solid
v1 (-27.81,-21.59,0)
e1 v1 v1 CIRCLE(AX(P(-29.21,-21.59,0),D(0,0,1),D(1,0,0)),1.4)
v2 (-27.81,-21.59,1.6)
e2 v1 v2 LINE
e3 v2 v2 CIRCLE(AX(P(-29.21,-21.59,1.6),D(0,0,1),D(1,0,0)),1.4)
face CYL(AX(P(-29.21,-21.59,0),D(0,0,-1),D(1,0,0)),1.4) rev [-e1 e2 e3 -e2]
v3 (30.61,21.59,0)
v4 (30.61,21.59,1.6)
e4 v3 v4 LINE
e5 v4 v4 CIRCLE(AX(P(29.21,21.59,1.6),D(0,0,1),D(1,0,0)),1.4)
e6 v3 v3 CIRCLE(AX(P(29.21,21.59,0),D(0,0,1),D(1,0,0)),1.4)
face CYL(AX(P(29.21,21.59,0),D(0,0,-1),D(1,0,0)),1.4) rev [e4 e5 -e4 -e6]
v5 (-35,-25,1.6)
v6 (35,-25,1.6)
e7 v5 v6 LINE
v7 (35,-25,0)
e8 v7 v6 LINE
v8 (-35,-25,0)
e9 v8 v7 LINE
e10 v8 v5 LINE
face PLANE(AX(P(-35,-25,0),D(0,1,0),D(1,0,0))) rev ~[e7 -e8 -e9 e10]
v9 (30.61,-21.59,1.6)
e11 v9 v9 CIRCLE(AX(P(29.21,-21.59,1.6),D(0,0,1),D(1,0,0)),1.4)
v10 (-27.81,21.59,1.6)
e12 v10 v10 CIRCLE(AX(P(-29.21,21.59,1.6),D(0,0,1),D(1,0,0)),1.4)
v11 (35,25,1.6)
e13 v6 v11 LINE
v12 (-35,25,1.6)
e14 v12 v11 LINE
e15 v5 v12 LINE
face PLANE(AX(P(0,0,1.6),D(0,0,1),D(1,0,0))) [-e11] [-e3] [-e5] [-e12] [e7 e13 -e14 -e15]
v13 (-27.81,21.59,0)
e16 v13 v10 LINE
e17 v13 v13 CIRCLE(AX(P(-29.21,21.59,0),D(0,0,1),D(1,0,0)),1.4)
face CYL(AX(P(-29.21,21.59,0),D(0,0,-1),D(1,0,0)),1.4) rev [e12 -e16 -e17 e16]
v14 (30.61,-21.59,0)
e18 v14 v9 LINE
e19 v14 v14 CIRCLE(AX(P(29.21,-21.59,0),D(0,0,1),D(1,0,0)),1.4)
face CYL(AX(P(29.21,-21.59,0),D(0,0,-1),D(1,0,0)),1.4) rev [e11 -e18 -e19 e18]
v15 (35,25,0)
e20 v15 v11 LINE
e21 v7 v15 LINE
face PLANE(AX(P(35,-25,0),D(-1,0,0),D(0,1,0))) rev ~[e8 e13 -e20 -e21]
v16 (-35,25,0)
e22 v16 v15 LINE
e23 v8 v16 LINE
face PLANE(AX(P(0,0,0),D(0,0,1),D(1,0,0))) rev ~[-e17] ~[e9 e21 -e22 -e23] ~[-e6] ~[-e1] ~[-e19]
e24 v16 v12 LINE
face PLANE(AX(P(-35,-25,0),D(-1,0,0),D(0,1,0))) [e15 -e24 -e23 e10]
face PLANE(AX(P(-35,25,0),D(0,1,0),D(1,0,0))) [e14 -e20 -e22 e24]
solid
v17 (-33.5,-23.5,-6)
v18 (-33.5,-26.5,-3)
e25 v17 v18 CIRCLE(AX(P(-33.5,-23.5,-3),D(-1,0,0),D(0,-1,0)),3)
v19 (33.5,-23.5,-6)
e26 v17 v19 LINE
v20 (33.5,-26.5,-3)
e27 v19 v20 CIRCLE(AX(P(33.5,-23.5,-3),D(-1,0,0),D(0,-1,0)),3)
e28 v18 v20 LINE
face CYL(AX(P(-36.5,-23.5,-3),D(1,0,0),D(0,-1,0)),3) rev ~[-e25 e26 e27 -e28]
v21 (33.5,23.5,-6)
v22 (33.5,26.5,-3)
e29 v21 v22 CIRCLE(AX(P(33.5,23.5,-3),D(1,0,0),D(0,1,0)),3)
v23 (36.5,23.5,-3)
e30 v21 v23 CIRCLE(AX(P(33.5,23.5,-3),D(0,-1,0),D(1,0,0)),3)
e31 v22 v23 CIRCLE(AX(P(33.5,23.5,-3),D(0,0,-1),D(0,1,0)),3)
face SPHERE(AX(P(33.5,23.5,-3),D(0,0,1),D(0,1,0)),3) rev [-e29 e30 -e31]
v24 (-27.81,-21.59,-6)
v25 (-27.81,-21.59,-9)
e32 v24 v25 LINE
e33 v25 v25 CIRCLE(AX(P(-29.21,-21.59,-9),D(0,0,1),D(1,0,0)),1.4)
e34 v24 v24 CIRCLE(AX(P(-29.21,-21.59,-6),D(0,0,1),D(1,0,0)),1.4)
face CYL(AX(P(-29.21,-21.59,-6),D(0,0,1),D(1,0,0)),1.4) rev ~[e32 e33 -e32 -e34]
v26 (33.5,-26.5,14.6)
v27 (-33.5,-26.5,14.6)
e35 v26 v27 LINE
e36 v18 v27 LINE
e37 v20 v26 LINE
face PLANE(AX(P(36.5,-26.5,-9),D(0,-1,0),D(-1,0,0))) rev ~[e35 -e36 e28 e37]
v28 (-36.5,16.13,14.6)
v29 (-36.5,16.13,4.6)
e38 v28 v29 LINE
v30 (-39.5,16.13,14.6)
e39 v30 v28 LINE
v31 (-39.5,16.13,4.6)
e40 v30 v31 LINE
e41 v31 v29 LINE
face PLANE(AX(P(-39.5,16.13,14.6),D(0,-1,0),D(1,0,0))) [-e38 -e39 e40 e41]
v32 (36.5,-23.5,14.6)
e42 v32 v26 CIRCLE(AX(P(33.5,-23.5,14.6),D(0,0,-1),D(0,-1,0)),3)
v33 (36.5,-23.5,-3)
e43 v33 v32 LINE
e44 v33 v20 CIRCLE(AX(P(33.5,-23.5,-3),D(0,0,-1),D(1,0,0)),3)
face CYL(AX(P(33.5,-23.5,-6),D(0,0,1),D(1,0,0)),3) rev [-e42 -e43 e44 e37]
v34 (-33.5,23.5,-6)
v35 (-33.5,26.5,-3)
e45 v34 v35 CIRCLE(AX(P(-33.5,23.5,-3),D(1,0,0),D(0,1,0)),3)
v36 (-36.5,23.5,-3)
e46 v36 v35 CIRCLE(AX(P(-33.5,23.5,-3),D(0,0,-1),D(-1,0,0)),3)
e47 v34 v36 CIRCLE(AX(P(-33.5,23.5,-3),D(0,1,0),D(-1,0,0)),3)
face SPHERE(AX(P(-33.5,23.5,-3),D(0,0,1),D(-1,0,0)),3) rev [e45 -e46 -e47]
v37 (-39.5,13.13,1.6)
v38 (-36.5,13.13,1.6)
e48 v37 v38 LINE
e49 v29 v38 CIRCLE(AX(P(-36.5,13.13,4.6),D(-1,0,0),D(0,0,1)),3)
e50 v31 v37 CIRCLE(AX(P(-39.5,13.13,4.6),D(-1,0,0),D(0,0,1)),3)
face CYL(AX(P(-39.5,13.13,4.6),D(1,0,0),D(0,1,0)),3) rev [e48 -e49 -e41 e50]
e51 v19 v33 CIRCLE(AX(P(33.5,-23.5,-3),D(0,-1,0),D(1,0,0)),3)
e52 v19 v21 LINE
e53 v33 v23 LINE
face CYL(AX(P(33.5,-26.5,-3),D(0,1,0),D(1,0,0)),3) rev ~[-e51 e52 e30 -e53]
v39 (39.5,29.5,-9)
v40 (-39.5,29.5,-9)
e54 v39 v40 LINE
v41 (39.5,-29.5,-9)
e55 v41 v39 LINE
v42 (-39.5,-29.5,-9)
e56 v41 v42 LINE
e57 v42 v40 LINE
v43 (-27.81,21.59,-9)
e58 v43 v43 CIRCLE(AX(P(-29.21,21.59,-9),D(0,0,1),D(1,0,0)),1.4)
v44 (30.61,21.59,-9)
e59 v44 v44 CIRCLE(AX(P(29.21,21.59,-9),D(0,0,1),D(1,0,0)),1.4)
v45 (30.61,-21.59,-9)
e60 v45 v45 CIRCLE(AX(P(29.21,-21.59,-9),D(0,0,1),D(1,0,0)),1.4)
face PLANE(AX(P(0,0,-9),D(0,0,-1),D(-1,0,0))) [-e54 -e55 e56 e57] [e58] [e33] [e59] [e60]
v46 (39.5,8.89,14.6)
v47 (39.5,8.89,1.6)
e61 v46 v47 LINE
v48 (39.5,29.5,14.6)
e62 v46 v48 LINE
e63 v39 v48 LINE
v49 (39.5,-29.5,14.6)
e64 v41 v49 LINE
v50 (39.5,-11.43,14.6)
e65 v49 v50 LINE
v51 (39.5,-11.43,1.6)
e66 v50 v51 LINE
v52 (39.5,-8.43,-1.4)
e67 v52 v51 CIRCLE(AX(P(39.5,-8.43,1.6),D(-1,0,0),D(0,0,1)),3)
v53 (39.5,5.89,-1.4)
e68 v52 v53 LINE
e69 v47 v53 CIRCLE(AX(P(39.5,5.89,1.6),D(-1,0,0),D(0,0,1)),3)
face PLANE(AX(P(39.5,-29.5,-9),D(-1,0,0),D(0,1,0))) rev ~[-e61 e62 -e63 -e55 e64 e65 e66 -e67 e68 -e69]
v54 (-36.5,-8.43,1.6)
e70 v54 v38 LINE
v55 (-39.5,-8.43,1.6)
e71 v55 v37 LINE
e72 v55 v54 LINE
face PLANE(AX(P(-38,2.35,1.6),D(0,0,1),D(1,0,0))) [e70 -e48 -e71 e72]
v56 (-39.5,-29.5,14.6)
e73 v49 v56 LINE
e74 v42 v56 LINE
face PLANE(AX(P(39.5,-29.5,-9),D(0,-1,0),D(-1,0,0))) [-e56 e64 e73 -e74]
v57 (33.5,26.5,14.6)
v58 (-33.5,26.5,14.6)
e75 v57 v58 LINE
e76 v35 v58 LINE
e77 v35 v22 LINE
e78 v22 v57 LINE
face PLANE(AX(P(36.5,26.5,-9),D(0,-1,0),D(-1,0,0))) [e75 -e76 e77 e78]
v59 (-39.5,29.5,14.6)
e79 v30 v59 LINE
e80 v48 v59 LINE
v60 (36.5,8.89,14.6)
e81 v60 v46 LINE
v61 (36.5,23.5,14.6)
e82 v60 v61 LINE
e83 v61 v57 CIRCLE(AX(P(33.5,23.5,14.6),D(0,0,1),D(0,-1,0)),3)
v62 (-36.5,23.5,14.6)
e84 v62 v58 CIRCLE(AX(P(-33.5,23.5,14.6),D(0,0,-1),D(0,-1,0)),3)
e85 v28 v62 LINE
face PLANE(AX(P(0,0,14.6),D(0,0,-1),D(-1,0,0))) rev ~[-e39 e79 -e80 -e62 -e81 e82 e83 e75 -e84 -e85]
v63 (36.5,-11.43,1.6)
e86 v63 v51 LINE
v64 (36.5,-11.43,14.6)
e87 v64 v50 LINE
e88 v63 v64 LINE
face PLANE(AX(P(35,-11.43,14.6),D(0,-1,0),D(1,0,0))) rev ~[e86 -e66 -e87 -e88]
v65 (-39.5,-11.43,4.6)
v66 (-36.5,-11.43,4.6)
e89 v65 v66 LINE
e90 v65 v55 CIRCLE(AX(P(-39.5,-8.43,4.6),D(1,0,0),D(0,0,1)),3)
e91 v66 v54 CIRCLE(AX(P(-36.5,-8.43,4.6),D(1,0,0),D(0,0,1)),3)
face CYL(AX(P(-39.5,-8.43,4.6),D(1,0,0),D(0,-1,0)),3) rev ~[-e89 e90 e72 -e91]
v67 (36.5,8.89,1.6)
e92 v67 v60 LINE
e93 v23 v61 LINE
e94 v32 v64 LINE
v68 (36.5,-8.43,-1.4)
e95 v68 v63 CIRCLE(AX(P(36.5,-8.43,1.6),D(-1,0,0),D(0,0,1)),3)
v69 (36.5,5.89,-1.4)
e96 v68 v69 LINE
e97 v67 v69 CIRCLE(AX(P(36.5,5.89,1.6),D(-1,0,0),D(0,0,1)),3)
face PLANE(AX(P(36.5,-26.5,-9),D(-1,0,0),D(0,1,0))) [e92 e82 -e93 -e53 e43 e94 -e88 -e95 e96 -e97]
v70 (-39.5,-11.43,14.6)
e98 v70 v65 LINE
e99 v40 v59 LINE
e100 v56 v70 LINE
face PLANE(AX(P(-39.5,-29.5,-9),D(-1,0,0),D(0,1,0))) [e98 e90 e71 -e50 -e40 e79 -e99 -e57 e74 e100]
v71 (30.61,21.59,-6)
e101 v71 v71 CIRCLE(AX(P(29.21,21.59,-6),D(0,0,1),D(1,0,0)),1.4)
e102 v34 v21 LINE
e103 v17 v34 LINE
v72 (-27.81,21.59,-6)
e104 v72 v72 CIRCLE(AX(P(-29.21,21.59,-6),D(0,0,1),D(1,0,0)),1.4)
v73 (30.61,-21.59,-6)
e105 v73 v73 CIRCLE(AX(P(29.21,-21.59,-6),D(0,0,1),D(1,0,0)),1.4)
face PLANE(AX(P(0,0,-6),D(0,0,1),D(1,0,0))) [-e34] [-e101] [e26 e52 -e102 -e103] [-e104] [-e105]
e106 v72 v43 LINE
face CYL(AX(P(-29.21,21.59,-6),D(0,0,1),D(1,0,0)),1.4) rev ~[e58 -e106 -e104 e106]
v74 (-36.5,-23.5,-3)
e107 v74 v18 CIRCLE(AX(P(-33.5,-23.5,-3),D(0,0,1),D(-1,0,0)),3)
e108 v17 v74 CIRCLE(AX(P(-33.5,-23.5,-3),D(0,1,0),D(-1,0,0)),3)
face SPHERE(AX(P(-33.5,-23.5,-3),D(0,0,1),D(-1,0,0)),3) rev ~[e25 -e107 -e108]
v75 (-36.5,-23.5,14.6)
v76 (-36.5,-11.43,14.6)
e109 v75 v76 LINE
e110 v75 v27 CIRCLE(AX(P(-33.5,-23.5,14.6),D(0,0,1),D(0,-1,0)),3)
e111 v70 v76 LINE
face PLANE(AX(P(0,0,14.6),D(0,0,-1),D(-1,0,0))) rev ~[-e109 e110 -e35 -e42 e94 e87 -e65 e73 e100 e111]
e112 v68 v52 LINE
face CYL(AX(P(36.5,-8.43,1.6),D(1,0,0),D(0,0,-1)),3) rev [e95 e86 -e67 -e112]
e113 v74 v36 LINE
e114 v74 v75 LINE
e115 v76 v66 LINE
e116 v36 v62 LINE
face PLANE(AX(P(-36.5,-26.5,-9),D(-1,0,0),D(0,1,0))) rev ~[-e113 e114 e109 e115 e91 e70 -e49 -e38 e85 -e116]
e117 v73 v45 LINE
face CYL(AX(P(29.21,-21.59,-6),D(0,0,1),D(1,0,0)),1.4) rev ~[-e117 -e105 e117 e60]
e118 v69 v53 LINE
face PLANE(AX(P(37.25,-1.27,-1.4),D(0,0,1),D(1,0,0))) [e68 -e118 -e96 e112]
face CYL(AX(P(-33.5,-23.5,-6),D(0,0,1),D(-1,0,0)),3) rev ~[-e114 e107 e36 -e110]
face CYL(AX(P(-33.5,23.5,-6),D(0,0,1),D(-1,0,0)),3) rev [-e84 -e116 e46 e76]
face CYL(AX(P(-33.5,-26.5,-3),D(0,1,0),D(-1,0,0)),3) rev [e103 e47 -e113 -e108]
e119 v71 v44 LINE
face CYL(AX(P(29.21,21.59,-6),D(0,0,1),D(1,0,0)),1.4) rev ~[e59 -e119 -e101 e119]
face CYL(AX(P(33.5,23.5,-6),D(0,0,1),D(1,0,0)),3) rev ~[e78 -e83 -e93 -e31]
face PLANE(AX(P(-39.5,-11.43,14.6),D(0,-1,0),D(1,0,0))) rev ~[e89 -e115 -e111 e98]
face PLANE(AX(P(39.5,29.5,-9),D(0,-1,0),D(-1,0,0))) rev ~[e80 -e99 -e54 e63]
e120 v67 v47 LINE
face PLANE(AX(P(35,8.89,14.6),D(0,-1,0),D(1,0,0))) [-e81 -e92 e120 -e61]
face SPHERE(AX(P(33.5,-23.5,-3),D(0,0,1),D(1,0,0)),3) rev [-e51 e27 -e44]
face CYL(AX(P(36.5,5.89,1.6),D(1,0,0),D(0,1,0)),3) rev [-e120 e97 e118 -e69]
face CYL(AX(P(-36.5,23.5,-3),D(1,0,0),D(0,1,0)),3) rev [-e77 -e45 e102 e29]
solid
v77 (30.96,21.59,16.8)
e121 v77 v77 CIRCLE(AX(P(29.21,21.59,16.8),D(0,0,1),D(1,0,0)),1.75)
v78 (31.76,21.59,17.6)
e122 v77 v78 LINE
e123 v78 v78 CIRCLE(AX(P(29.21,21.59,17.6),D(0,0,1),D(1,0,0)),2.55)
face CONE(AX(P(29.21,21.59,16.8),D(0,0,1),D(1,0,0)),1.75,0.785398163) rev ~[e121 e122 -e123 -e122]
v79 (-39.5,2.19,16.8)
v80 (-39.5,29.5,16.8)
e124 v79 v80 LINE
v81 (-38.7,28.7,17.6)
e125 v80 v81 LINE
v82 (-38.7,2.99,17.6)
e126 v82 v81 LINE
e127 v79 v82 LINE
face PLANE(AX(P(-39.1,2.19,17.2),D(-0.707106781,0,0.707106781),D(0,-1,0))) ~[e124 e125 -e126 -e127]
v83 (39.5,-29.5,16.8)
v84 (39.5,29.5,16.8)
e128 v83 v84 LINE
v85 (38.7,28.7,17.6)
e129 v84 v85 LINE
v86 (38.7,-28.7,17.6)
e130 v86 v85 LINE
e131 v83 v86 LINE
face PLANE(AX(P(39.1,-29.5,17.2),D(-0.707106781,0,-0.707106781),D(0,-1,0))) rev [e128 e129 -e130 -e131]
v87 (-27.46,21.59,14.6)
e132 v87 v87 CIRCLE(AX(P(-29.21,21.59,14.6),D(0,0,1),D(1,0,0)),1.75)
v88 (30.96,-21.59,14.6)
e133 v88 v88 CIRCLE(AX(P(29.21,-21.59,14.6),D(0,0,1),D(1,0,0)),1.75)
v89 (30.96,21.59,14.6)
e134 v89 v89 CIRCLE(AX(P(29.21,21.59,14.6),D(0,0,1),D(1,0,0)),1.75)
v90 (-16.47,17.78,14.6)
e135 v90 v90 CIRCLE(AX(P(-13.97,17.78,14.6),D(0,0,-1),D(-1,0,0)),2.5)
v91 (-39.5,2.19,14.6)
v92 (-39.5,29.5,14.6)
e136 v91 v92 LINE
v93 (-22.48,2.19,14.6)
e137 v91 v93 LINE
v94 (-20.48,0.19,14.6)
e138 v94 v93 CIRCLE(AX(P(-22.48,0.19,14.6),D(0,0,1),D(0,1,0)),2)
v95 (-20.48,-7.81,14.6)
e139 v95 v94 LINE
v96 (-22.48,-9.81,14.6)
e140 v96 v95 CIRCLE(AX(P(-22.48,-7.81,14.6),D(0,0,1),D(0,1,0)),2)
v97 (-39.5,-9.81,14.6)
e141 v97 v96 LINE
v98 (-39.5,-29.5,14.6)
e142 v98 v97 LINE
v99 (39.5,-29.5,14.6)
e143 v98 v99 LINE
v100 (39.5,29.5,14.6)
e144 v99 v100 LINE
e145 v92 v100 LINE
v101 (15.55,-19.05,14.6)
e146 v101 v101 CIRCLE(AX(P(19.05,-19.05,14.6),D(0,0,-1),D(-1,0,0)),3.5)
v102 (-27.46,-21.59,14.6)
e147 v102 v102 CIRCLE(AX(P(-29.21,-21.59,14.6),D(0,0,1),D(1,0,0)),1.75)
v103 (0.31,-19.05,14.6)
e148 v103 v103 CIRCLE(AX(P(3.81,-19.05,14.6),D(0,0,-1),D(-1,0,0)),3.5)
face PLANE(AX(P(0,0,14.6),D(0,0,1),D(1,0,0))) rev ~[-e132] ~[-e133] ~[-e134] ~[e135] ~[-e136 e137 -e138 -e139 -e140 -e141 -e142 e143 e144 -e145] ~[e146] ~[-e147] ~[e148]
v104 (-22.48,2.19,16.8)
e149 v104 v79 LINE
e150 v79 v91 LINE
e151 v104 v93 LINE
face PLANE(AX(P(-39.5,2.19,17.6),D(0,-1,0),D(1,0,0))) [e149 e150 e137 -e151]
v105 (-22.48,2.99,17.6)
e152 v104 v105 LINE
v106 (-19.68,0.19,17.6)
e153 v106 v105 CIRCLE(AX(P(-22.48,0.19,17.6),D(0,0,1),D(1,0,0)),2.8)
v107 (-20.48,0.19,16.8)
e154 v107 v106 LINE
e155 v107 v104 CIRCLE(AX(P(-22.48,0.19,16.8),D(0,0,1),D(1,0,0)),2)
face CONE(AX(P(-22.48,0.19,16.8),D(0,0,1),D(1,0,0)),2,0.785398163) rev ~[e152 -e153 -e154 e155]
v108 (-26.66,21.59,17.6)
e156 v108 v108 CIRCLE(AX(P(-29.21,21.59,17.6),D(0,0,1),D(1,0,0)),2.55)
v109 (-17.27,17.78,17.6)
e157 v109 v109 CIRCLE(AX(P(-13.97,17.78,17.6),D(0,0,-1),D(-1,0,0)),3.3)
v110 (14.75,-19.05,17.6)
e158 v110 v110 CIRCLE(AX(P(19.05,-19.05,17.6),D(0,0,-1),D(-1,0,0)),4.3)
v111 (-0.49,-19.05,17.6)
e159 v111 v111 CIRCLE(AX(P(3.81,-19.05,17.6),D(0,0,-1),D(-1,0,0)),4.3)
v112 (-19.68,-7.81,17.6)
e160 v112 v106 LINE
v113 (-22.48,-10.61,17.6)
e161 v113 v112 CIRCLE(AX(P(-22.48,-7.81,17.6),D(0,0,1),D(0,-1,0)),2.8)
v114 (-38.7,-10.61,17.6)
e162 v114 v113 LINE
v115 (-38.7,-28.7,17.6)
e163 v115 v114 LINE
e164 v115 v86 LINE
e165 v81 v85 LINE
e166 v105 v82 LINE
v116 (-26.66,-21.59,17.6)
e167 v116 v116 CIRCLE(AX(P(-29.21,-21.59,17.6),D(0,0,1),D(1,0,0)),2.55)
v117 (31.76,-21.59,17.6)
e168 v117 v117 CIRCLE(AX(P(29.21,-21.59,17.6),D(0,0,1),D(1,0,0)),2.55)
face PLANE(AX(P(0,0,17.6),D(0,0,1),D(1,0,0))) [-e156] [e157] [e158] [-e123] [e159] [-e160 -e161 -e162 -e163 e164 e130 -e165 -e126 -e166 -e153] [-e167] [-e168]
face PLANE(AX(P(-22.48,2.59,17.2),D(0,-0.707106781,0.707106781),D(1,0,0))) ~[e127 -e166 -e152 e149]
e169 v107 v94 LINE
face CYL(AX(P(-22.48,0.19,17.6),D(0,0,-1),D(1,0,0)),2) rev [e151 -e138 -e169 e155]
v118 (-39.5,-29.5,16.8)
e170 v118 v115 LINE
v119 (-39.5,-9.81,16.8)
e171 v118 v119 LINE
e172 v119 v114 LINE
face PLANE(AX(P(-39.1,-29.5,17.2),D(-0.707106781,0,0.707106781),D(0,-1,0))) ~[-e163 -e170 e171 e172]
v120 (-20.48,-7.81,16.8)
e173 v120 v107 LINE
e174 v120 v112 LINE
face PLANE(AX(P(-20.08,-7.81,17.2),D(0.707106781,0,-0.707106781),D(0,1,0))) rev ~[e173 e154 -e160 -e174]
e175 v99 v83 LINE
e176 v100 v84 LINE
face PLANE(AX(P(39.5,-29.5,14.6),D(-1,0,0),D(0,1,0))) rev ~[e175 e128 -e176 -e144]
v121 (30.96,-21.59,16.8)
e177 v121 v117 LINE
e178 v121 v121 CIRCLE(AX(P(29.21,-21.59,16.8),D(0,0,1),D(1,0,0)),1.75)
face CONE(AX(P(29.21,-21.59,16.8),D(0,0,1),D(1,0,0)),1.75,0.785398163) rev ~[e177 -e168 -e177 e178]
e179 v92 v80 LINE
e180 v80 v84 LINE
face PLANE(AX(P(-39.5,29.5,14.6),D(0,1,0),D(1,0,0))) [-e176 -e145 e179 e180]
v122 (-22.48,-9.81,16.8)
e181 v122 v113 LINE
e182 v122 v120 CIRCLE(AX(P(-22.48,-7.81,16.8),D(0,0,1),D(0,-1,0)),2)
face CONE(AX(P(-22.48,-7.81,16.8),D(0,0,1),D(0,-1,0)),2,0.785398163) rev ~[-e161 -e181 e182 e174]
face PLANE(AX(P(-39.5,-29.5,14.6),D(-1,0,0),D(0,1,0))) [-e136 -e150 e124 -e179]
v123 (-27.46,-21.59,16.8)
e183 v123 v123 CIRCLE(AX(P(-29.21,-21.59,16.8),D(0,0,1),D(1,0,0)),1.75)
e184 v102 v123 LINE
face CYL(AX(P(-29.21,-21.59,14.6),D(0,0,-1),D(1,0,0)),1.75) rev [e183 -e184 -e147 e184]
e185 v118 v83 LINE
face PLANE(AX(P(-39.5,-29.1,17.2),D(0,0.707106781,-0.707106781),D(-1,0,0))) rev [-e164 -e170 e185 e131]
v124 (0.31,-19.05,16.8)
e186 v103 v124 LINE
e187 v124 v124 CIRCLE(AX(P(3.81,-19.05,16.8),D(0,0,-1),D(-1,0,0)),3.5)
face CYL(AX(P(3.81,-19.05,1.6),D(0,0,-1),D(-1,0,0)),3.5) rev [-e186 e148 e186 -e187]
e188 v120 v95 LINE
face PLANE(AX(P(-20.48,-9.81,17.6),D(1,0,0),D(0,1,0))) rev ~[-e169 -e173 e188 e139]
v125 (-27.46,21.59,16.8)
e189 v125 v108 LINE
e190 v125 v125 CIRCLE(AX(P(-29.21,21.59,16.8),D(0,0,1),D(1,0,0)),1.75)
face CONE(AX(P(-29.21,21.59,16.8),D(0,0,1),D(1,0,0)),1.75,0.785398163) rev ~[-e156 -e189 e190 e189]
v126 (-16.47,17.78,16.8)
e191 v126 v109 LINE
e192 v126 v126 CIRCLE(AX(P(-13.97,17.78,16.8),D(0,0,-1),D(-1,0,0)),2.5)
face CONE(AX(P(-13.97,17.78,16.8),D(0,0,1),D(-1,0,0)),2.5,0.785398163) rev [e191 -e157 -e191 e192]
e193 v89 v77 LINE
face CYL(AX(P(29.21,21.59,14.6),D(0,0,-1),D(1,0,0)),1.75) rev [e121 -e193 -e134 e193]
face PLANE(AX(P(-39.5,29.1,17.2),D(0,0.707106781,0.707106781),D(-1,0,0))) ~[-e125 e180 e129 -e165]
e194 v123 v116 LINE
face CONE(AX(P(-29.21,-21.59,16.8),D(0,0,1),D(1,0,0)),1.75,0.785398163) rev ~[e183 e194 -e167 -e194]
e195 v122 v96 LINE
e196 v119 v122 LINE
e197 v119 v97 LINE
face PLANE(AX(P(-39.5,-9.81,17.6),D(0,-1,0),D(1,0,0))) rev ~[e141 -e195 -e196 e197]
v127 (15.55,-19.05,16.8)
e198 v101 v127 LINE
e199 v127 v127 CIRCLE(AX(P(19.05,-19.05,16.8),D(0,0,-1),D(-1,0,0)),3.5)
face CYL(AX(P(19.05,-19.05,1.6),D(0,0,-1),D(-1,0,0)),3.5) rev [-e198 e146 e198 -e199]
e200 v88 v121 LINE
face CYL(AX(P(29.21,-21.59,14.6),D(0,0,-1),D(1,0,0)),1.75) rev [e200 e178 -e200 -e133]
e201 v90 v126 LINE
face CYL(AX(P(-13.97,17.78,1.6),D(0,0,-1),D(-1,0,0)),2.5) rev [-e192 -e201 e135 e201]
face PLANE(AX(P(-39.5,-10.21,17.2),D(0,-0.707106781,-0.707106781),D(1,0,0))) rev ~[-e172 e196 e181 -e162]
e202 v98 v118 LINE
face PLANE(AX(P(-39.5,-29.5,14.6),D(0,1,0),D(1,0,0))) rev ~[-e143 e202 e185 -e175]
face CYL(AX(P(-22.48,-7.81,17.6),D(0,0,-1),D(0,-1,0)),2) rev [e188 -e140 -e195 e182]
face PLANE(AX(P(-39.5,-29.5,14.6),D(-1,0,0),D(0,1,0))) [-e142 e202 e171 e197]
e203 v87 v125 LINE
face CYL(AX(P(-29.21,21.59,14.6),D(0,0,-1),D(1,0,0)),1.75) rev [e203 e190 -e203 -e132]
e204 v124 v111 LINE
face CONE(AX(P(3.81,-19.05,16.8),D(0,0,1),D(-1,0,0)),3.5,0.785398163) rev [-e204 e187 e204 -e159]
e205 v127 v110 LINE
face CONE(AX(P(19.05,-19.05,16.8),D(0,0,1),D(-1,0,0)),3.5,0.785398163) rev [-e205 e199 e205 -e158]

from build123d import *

# Parameters (mm, degrees)
SKETCH1_W           = 70
SKETCH1_H           = 50
SKETCH1_R           = 1.4
BOSS_EXTRUDE1_DEPTH = 1.6
SKETCH2_W           = 73
SKETCH2_H           = 53
SKETCH2_R           = 1.4
BOSS_EXTRUDE2_DEPTH = 3
SKETCH3_W           = 79
SKETCH3_H           = 59
SKETCH3_W_2         = 73
SKETCH3_H_2         = 53
BOSS_EXTRUDE3_DEPTH = 23.6
SKETCH4_W           = 79
SKETCH4_H           = 59
SKETCH4_R           = 1.75
BOSS_EXTRUDE4_DEPTH = 3
SKETCH9_W           = 3
SKETCH9_H           = 27.56
CUT_EXTRUDE5_DEPTH  = 13
SKETCH7_R           = 3.5
SKETCH7_R_2         = 2.5
CUT_EXTRUDE3_DEPTH  = 52.83145763
SKETCH8_W           = 4.5
SKETCH8_H           = 20.32
CUT_EXTRUDE4_DEPTH  = 16
FILLET3_R           = 3
FILLET4_R           = 3
SKETCH10_W          = 19.02
SKETCH10_H          = 12
CUT_EXTRUDE6_DEPTH  = 57.018389838
FILLET5_R           = 2
CHAMFER1_SIZE       = 0.8


with BuildPart() as part:
    # Sketch1 → Boss-Extrude1 (new body)
    with BuildSketch(Plane.XY):
        Rectangle(SKETCH1_W, SKETCH1_H)
        with Locations((-29.21, 21.59)):
            Circle(SKETCH1_R, mode=Mode.SUBTRACT)
        with Locations((29.21, 21.59)):
            Circle(SKETCH1_R, mode=Mode.SUBTRACT)
        with Locations((-29.21, -21.59)):
            Circle(SKETCH1_R, mode=Mode.SUBTRACT)
        with Locations((29.21, -21.59)):
            Circle(SKETCH1_R, mode=Mode.SUBTRACT)
    extrude(amount=BOSS_EXTRUDE1_DEPTH)


with BuildPart() as body_2:
    # Sketch2 → Boss-Extrude2 (new body)
    with BuildSketch(Plane.XY.offset(-6)):
        Rectangle(SKETCH2_W, SKETCH2_H)
        with Locations((29.21, 21.59)):
            Circle(SKETCH2_R, mode=Mode.SUBTRACT)
        with Locations((29.21, -21.59)):
            Circle(SKETCH2_R, mode=Mode.SUBTRACT)
        with Locations((-29.21, -21.59)):
            Circle(SKETCH2_R, mode=Mode.SUBTRACT)
        with Locations((-29.21, 21.59)):
            Circle(SKETCH2_R, mode=Mode.SUBTRACT)
    extrude(amount=-BOSS_EXTRUDE2_DEPTH)

    # Sketch3 → Boss-Extrude3 (add)
    with BuildSketch(Plane(origin=(0, 0, -9), x_dir=(-1, 0, 0), z_dir=(0, 0, -1))):
        Rectangle(SKETCH3_W, SKETCH3_H)
        Rectangle(SKETCH3_W_2, SKETCH3_H_2, mode=Mode.SUBTRACT)
    extrude(amount=-BOSS_EXTRUDE3_DEPTH)

    # Sketch9 → Cut-Extrude5 (cut)
    with BuildSketch(Plane.XY.offset(14.6)):
        with Locations((-38, 2.35)):
            Rectangle(SKETCH9_W, SKETCH9_H)
    extrude(amount=-CUT_EXTRUDE5_DEPTH, mode=Mode.SUBTRACT)

    # Sketch8 → Cut-Extrude4 (cut)
    with BuildSketch(Plane.XY.offset(14.6)):
        with Locations((37.25, -1.27)):
            Rectangle(SKETCH8_W, SKETCH8_H)
    extrude(amount=-CUT_EXTRUDE4_DEPTH, mode=Mode.SUBTRACT)

    # Fillet3
    fillet3_edges = [body_2.edges().sort_by_distance(p)[0] for p in [
        (38, -11.43, -1.4),
        (38, 8.89, -1.4),
        (-38, -11.43, 1.6),
        (-38, 16.13, 1.6),
    ]]
    fillet(fillet3_edges, radius=FILLET3_R)

    # Fillet4
    fillet4_edges = [body_2.edges().sort_by_distance(p)[0] for p in [
        (-36.5, -26.5, 4.3),
        (-36.5, 26.5, 4.3),
        (36.5, 26.5, 4.3),
        (36.5, -26.5, 4.3),
        (-36.5, 0, -6),
        (0, 26.5, -6),
        (36.5, 0, -6),
        (0, -26.5, -6),
    ]]
    fillet(fillet4_edges, radius=FILLET4_R)


with BuildPart() as body_3:
    # Sketch4 → Boss-Extrude4 (new body)
    with BuildSketch(Plane.XY.offset(14.6)):
        Rectangle(SKETCH4_W, SKETCH4_H)
        with Locations((-29.21, 21.59)):
            Circle(SKETCH4_R, mode=Mode.SUBTRACT)
        with Locations((29.21, 21.59)):
            Circle(SKETCH4_R, mode=Mode.SUBTRACT)
        with Locations((29.21, -21.59)):
            Circle(SKETCH4_R, mode=Mode.SUBTRACT)
        with Locations((-29.21, -21.59)):
            Circle(SKETCH4_R, mode=Mode.SUBTRACT)
    extrude(amount=BOSS_EXTRUDE4_DEPTH)

    # Sketch7 → Cut-Extrude3 (cut, through all)
    with BuildSketch(Plane.XY.offset(1.6)):
        with Locations(Location((3.81, -19.05, 0), (0, 0, 180))):
            Circle(SKETCH7_R)
        with Locations(Location((19.05, -19.05, 0), (0, 0, 180))):
            Circle(SKETCH7_R)
        with Locations(Location((-13.97, 17.78, 0), (0, 0, 180))):
            Circle(SKETCH7_R_2)
    extrude(amount=CUT_EXTRUDE3_DEPTH, mode=Mode.SUBTRACT)

    # Sketch10 → Cut-Extrude6 (cut, through all)
    with BuildSketch(Plane.XY.offset(17.6)):
        with Locations((-29.99, -3.81)):
            Rectangle(SKETCH10_W, SKETCH10_H)
    extrude(amount=-CUT_EXTRUDE6_DEPTH, mode=Mode.SUBTRACT)

    # Fillet5
    fillet5_edges = [body_3.edges().sort_by_distance(p)[0] for p in [
        (-20.48, 2.19, 16.1),
        (-20.48, -9.81, 16.1),
    ]]
    fillet(fillet5_edges, radius=FILLET5_R)

    # Chamfer1
    chamfer1_edges = [body_3.edges().sort_by_distance(p)[0] for p in [
        (0, 29.5, 17.6),
        (-30.96, 21.59, 17.6),
        (-39.5, 15.845, 17.6),
        (27.46, 21.59, 17.6),
        (27.46, -21.59, 17.6),
        (-30.96, -21.59, 17.6),
        (-11.47, 17.78, 17.6),
        (22.55, -19.05, 17.6),
        (0, -29.5, 17.6),
        (7.31, -19.05, 17.6),
        (-39.5, -19.655, 17.6),
        (-30.99, -9.81, 17.6),
        (-20.48, -3.81, 17.6),
        (39.5, 0, 17.6),
        (-30.99, 2.19, 17.6),
        (-21.065786438, -9.224213562, 17.6),
        (-21.065786438, 1.604213562, 17.6),
    ]]
    chamfer(chamfer1_edges, length=CHAMFER1_SIZE)


solid = Compound([part.part, body_2.part, body_3.part])
